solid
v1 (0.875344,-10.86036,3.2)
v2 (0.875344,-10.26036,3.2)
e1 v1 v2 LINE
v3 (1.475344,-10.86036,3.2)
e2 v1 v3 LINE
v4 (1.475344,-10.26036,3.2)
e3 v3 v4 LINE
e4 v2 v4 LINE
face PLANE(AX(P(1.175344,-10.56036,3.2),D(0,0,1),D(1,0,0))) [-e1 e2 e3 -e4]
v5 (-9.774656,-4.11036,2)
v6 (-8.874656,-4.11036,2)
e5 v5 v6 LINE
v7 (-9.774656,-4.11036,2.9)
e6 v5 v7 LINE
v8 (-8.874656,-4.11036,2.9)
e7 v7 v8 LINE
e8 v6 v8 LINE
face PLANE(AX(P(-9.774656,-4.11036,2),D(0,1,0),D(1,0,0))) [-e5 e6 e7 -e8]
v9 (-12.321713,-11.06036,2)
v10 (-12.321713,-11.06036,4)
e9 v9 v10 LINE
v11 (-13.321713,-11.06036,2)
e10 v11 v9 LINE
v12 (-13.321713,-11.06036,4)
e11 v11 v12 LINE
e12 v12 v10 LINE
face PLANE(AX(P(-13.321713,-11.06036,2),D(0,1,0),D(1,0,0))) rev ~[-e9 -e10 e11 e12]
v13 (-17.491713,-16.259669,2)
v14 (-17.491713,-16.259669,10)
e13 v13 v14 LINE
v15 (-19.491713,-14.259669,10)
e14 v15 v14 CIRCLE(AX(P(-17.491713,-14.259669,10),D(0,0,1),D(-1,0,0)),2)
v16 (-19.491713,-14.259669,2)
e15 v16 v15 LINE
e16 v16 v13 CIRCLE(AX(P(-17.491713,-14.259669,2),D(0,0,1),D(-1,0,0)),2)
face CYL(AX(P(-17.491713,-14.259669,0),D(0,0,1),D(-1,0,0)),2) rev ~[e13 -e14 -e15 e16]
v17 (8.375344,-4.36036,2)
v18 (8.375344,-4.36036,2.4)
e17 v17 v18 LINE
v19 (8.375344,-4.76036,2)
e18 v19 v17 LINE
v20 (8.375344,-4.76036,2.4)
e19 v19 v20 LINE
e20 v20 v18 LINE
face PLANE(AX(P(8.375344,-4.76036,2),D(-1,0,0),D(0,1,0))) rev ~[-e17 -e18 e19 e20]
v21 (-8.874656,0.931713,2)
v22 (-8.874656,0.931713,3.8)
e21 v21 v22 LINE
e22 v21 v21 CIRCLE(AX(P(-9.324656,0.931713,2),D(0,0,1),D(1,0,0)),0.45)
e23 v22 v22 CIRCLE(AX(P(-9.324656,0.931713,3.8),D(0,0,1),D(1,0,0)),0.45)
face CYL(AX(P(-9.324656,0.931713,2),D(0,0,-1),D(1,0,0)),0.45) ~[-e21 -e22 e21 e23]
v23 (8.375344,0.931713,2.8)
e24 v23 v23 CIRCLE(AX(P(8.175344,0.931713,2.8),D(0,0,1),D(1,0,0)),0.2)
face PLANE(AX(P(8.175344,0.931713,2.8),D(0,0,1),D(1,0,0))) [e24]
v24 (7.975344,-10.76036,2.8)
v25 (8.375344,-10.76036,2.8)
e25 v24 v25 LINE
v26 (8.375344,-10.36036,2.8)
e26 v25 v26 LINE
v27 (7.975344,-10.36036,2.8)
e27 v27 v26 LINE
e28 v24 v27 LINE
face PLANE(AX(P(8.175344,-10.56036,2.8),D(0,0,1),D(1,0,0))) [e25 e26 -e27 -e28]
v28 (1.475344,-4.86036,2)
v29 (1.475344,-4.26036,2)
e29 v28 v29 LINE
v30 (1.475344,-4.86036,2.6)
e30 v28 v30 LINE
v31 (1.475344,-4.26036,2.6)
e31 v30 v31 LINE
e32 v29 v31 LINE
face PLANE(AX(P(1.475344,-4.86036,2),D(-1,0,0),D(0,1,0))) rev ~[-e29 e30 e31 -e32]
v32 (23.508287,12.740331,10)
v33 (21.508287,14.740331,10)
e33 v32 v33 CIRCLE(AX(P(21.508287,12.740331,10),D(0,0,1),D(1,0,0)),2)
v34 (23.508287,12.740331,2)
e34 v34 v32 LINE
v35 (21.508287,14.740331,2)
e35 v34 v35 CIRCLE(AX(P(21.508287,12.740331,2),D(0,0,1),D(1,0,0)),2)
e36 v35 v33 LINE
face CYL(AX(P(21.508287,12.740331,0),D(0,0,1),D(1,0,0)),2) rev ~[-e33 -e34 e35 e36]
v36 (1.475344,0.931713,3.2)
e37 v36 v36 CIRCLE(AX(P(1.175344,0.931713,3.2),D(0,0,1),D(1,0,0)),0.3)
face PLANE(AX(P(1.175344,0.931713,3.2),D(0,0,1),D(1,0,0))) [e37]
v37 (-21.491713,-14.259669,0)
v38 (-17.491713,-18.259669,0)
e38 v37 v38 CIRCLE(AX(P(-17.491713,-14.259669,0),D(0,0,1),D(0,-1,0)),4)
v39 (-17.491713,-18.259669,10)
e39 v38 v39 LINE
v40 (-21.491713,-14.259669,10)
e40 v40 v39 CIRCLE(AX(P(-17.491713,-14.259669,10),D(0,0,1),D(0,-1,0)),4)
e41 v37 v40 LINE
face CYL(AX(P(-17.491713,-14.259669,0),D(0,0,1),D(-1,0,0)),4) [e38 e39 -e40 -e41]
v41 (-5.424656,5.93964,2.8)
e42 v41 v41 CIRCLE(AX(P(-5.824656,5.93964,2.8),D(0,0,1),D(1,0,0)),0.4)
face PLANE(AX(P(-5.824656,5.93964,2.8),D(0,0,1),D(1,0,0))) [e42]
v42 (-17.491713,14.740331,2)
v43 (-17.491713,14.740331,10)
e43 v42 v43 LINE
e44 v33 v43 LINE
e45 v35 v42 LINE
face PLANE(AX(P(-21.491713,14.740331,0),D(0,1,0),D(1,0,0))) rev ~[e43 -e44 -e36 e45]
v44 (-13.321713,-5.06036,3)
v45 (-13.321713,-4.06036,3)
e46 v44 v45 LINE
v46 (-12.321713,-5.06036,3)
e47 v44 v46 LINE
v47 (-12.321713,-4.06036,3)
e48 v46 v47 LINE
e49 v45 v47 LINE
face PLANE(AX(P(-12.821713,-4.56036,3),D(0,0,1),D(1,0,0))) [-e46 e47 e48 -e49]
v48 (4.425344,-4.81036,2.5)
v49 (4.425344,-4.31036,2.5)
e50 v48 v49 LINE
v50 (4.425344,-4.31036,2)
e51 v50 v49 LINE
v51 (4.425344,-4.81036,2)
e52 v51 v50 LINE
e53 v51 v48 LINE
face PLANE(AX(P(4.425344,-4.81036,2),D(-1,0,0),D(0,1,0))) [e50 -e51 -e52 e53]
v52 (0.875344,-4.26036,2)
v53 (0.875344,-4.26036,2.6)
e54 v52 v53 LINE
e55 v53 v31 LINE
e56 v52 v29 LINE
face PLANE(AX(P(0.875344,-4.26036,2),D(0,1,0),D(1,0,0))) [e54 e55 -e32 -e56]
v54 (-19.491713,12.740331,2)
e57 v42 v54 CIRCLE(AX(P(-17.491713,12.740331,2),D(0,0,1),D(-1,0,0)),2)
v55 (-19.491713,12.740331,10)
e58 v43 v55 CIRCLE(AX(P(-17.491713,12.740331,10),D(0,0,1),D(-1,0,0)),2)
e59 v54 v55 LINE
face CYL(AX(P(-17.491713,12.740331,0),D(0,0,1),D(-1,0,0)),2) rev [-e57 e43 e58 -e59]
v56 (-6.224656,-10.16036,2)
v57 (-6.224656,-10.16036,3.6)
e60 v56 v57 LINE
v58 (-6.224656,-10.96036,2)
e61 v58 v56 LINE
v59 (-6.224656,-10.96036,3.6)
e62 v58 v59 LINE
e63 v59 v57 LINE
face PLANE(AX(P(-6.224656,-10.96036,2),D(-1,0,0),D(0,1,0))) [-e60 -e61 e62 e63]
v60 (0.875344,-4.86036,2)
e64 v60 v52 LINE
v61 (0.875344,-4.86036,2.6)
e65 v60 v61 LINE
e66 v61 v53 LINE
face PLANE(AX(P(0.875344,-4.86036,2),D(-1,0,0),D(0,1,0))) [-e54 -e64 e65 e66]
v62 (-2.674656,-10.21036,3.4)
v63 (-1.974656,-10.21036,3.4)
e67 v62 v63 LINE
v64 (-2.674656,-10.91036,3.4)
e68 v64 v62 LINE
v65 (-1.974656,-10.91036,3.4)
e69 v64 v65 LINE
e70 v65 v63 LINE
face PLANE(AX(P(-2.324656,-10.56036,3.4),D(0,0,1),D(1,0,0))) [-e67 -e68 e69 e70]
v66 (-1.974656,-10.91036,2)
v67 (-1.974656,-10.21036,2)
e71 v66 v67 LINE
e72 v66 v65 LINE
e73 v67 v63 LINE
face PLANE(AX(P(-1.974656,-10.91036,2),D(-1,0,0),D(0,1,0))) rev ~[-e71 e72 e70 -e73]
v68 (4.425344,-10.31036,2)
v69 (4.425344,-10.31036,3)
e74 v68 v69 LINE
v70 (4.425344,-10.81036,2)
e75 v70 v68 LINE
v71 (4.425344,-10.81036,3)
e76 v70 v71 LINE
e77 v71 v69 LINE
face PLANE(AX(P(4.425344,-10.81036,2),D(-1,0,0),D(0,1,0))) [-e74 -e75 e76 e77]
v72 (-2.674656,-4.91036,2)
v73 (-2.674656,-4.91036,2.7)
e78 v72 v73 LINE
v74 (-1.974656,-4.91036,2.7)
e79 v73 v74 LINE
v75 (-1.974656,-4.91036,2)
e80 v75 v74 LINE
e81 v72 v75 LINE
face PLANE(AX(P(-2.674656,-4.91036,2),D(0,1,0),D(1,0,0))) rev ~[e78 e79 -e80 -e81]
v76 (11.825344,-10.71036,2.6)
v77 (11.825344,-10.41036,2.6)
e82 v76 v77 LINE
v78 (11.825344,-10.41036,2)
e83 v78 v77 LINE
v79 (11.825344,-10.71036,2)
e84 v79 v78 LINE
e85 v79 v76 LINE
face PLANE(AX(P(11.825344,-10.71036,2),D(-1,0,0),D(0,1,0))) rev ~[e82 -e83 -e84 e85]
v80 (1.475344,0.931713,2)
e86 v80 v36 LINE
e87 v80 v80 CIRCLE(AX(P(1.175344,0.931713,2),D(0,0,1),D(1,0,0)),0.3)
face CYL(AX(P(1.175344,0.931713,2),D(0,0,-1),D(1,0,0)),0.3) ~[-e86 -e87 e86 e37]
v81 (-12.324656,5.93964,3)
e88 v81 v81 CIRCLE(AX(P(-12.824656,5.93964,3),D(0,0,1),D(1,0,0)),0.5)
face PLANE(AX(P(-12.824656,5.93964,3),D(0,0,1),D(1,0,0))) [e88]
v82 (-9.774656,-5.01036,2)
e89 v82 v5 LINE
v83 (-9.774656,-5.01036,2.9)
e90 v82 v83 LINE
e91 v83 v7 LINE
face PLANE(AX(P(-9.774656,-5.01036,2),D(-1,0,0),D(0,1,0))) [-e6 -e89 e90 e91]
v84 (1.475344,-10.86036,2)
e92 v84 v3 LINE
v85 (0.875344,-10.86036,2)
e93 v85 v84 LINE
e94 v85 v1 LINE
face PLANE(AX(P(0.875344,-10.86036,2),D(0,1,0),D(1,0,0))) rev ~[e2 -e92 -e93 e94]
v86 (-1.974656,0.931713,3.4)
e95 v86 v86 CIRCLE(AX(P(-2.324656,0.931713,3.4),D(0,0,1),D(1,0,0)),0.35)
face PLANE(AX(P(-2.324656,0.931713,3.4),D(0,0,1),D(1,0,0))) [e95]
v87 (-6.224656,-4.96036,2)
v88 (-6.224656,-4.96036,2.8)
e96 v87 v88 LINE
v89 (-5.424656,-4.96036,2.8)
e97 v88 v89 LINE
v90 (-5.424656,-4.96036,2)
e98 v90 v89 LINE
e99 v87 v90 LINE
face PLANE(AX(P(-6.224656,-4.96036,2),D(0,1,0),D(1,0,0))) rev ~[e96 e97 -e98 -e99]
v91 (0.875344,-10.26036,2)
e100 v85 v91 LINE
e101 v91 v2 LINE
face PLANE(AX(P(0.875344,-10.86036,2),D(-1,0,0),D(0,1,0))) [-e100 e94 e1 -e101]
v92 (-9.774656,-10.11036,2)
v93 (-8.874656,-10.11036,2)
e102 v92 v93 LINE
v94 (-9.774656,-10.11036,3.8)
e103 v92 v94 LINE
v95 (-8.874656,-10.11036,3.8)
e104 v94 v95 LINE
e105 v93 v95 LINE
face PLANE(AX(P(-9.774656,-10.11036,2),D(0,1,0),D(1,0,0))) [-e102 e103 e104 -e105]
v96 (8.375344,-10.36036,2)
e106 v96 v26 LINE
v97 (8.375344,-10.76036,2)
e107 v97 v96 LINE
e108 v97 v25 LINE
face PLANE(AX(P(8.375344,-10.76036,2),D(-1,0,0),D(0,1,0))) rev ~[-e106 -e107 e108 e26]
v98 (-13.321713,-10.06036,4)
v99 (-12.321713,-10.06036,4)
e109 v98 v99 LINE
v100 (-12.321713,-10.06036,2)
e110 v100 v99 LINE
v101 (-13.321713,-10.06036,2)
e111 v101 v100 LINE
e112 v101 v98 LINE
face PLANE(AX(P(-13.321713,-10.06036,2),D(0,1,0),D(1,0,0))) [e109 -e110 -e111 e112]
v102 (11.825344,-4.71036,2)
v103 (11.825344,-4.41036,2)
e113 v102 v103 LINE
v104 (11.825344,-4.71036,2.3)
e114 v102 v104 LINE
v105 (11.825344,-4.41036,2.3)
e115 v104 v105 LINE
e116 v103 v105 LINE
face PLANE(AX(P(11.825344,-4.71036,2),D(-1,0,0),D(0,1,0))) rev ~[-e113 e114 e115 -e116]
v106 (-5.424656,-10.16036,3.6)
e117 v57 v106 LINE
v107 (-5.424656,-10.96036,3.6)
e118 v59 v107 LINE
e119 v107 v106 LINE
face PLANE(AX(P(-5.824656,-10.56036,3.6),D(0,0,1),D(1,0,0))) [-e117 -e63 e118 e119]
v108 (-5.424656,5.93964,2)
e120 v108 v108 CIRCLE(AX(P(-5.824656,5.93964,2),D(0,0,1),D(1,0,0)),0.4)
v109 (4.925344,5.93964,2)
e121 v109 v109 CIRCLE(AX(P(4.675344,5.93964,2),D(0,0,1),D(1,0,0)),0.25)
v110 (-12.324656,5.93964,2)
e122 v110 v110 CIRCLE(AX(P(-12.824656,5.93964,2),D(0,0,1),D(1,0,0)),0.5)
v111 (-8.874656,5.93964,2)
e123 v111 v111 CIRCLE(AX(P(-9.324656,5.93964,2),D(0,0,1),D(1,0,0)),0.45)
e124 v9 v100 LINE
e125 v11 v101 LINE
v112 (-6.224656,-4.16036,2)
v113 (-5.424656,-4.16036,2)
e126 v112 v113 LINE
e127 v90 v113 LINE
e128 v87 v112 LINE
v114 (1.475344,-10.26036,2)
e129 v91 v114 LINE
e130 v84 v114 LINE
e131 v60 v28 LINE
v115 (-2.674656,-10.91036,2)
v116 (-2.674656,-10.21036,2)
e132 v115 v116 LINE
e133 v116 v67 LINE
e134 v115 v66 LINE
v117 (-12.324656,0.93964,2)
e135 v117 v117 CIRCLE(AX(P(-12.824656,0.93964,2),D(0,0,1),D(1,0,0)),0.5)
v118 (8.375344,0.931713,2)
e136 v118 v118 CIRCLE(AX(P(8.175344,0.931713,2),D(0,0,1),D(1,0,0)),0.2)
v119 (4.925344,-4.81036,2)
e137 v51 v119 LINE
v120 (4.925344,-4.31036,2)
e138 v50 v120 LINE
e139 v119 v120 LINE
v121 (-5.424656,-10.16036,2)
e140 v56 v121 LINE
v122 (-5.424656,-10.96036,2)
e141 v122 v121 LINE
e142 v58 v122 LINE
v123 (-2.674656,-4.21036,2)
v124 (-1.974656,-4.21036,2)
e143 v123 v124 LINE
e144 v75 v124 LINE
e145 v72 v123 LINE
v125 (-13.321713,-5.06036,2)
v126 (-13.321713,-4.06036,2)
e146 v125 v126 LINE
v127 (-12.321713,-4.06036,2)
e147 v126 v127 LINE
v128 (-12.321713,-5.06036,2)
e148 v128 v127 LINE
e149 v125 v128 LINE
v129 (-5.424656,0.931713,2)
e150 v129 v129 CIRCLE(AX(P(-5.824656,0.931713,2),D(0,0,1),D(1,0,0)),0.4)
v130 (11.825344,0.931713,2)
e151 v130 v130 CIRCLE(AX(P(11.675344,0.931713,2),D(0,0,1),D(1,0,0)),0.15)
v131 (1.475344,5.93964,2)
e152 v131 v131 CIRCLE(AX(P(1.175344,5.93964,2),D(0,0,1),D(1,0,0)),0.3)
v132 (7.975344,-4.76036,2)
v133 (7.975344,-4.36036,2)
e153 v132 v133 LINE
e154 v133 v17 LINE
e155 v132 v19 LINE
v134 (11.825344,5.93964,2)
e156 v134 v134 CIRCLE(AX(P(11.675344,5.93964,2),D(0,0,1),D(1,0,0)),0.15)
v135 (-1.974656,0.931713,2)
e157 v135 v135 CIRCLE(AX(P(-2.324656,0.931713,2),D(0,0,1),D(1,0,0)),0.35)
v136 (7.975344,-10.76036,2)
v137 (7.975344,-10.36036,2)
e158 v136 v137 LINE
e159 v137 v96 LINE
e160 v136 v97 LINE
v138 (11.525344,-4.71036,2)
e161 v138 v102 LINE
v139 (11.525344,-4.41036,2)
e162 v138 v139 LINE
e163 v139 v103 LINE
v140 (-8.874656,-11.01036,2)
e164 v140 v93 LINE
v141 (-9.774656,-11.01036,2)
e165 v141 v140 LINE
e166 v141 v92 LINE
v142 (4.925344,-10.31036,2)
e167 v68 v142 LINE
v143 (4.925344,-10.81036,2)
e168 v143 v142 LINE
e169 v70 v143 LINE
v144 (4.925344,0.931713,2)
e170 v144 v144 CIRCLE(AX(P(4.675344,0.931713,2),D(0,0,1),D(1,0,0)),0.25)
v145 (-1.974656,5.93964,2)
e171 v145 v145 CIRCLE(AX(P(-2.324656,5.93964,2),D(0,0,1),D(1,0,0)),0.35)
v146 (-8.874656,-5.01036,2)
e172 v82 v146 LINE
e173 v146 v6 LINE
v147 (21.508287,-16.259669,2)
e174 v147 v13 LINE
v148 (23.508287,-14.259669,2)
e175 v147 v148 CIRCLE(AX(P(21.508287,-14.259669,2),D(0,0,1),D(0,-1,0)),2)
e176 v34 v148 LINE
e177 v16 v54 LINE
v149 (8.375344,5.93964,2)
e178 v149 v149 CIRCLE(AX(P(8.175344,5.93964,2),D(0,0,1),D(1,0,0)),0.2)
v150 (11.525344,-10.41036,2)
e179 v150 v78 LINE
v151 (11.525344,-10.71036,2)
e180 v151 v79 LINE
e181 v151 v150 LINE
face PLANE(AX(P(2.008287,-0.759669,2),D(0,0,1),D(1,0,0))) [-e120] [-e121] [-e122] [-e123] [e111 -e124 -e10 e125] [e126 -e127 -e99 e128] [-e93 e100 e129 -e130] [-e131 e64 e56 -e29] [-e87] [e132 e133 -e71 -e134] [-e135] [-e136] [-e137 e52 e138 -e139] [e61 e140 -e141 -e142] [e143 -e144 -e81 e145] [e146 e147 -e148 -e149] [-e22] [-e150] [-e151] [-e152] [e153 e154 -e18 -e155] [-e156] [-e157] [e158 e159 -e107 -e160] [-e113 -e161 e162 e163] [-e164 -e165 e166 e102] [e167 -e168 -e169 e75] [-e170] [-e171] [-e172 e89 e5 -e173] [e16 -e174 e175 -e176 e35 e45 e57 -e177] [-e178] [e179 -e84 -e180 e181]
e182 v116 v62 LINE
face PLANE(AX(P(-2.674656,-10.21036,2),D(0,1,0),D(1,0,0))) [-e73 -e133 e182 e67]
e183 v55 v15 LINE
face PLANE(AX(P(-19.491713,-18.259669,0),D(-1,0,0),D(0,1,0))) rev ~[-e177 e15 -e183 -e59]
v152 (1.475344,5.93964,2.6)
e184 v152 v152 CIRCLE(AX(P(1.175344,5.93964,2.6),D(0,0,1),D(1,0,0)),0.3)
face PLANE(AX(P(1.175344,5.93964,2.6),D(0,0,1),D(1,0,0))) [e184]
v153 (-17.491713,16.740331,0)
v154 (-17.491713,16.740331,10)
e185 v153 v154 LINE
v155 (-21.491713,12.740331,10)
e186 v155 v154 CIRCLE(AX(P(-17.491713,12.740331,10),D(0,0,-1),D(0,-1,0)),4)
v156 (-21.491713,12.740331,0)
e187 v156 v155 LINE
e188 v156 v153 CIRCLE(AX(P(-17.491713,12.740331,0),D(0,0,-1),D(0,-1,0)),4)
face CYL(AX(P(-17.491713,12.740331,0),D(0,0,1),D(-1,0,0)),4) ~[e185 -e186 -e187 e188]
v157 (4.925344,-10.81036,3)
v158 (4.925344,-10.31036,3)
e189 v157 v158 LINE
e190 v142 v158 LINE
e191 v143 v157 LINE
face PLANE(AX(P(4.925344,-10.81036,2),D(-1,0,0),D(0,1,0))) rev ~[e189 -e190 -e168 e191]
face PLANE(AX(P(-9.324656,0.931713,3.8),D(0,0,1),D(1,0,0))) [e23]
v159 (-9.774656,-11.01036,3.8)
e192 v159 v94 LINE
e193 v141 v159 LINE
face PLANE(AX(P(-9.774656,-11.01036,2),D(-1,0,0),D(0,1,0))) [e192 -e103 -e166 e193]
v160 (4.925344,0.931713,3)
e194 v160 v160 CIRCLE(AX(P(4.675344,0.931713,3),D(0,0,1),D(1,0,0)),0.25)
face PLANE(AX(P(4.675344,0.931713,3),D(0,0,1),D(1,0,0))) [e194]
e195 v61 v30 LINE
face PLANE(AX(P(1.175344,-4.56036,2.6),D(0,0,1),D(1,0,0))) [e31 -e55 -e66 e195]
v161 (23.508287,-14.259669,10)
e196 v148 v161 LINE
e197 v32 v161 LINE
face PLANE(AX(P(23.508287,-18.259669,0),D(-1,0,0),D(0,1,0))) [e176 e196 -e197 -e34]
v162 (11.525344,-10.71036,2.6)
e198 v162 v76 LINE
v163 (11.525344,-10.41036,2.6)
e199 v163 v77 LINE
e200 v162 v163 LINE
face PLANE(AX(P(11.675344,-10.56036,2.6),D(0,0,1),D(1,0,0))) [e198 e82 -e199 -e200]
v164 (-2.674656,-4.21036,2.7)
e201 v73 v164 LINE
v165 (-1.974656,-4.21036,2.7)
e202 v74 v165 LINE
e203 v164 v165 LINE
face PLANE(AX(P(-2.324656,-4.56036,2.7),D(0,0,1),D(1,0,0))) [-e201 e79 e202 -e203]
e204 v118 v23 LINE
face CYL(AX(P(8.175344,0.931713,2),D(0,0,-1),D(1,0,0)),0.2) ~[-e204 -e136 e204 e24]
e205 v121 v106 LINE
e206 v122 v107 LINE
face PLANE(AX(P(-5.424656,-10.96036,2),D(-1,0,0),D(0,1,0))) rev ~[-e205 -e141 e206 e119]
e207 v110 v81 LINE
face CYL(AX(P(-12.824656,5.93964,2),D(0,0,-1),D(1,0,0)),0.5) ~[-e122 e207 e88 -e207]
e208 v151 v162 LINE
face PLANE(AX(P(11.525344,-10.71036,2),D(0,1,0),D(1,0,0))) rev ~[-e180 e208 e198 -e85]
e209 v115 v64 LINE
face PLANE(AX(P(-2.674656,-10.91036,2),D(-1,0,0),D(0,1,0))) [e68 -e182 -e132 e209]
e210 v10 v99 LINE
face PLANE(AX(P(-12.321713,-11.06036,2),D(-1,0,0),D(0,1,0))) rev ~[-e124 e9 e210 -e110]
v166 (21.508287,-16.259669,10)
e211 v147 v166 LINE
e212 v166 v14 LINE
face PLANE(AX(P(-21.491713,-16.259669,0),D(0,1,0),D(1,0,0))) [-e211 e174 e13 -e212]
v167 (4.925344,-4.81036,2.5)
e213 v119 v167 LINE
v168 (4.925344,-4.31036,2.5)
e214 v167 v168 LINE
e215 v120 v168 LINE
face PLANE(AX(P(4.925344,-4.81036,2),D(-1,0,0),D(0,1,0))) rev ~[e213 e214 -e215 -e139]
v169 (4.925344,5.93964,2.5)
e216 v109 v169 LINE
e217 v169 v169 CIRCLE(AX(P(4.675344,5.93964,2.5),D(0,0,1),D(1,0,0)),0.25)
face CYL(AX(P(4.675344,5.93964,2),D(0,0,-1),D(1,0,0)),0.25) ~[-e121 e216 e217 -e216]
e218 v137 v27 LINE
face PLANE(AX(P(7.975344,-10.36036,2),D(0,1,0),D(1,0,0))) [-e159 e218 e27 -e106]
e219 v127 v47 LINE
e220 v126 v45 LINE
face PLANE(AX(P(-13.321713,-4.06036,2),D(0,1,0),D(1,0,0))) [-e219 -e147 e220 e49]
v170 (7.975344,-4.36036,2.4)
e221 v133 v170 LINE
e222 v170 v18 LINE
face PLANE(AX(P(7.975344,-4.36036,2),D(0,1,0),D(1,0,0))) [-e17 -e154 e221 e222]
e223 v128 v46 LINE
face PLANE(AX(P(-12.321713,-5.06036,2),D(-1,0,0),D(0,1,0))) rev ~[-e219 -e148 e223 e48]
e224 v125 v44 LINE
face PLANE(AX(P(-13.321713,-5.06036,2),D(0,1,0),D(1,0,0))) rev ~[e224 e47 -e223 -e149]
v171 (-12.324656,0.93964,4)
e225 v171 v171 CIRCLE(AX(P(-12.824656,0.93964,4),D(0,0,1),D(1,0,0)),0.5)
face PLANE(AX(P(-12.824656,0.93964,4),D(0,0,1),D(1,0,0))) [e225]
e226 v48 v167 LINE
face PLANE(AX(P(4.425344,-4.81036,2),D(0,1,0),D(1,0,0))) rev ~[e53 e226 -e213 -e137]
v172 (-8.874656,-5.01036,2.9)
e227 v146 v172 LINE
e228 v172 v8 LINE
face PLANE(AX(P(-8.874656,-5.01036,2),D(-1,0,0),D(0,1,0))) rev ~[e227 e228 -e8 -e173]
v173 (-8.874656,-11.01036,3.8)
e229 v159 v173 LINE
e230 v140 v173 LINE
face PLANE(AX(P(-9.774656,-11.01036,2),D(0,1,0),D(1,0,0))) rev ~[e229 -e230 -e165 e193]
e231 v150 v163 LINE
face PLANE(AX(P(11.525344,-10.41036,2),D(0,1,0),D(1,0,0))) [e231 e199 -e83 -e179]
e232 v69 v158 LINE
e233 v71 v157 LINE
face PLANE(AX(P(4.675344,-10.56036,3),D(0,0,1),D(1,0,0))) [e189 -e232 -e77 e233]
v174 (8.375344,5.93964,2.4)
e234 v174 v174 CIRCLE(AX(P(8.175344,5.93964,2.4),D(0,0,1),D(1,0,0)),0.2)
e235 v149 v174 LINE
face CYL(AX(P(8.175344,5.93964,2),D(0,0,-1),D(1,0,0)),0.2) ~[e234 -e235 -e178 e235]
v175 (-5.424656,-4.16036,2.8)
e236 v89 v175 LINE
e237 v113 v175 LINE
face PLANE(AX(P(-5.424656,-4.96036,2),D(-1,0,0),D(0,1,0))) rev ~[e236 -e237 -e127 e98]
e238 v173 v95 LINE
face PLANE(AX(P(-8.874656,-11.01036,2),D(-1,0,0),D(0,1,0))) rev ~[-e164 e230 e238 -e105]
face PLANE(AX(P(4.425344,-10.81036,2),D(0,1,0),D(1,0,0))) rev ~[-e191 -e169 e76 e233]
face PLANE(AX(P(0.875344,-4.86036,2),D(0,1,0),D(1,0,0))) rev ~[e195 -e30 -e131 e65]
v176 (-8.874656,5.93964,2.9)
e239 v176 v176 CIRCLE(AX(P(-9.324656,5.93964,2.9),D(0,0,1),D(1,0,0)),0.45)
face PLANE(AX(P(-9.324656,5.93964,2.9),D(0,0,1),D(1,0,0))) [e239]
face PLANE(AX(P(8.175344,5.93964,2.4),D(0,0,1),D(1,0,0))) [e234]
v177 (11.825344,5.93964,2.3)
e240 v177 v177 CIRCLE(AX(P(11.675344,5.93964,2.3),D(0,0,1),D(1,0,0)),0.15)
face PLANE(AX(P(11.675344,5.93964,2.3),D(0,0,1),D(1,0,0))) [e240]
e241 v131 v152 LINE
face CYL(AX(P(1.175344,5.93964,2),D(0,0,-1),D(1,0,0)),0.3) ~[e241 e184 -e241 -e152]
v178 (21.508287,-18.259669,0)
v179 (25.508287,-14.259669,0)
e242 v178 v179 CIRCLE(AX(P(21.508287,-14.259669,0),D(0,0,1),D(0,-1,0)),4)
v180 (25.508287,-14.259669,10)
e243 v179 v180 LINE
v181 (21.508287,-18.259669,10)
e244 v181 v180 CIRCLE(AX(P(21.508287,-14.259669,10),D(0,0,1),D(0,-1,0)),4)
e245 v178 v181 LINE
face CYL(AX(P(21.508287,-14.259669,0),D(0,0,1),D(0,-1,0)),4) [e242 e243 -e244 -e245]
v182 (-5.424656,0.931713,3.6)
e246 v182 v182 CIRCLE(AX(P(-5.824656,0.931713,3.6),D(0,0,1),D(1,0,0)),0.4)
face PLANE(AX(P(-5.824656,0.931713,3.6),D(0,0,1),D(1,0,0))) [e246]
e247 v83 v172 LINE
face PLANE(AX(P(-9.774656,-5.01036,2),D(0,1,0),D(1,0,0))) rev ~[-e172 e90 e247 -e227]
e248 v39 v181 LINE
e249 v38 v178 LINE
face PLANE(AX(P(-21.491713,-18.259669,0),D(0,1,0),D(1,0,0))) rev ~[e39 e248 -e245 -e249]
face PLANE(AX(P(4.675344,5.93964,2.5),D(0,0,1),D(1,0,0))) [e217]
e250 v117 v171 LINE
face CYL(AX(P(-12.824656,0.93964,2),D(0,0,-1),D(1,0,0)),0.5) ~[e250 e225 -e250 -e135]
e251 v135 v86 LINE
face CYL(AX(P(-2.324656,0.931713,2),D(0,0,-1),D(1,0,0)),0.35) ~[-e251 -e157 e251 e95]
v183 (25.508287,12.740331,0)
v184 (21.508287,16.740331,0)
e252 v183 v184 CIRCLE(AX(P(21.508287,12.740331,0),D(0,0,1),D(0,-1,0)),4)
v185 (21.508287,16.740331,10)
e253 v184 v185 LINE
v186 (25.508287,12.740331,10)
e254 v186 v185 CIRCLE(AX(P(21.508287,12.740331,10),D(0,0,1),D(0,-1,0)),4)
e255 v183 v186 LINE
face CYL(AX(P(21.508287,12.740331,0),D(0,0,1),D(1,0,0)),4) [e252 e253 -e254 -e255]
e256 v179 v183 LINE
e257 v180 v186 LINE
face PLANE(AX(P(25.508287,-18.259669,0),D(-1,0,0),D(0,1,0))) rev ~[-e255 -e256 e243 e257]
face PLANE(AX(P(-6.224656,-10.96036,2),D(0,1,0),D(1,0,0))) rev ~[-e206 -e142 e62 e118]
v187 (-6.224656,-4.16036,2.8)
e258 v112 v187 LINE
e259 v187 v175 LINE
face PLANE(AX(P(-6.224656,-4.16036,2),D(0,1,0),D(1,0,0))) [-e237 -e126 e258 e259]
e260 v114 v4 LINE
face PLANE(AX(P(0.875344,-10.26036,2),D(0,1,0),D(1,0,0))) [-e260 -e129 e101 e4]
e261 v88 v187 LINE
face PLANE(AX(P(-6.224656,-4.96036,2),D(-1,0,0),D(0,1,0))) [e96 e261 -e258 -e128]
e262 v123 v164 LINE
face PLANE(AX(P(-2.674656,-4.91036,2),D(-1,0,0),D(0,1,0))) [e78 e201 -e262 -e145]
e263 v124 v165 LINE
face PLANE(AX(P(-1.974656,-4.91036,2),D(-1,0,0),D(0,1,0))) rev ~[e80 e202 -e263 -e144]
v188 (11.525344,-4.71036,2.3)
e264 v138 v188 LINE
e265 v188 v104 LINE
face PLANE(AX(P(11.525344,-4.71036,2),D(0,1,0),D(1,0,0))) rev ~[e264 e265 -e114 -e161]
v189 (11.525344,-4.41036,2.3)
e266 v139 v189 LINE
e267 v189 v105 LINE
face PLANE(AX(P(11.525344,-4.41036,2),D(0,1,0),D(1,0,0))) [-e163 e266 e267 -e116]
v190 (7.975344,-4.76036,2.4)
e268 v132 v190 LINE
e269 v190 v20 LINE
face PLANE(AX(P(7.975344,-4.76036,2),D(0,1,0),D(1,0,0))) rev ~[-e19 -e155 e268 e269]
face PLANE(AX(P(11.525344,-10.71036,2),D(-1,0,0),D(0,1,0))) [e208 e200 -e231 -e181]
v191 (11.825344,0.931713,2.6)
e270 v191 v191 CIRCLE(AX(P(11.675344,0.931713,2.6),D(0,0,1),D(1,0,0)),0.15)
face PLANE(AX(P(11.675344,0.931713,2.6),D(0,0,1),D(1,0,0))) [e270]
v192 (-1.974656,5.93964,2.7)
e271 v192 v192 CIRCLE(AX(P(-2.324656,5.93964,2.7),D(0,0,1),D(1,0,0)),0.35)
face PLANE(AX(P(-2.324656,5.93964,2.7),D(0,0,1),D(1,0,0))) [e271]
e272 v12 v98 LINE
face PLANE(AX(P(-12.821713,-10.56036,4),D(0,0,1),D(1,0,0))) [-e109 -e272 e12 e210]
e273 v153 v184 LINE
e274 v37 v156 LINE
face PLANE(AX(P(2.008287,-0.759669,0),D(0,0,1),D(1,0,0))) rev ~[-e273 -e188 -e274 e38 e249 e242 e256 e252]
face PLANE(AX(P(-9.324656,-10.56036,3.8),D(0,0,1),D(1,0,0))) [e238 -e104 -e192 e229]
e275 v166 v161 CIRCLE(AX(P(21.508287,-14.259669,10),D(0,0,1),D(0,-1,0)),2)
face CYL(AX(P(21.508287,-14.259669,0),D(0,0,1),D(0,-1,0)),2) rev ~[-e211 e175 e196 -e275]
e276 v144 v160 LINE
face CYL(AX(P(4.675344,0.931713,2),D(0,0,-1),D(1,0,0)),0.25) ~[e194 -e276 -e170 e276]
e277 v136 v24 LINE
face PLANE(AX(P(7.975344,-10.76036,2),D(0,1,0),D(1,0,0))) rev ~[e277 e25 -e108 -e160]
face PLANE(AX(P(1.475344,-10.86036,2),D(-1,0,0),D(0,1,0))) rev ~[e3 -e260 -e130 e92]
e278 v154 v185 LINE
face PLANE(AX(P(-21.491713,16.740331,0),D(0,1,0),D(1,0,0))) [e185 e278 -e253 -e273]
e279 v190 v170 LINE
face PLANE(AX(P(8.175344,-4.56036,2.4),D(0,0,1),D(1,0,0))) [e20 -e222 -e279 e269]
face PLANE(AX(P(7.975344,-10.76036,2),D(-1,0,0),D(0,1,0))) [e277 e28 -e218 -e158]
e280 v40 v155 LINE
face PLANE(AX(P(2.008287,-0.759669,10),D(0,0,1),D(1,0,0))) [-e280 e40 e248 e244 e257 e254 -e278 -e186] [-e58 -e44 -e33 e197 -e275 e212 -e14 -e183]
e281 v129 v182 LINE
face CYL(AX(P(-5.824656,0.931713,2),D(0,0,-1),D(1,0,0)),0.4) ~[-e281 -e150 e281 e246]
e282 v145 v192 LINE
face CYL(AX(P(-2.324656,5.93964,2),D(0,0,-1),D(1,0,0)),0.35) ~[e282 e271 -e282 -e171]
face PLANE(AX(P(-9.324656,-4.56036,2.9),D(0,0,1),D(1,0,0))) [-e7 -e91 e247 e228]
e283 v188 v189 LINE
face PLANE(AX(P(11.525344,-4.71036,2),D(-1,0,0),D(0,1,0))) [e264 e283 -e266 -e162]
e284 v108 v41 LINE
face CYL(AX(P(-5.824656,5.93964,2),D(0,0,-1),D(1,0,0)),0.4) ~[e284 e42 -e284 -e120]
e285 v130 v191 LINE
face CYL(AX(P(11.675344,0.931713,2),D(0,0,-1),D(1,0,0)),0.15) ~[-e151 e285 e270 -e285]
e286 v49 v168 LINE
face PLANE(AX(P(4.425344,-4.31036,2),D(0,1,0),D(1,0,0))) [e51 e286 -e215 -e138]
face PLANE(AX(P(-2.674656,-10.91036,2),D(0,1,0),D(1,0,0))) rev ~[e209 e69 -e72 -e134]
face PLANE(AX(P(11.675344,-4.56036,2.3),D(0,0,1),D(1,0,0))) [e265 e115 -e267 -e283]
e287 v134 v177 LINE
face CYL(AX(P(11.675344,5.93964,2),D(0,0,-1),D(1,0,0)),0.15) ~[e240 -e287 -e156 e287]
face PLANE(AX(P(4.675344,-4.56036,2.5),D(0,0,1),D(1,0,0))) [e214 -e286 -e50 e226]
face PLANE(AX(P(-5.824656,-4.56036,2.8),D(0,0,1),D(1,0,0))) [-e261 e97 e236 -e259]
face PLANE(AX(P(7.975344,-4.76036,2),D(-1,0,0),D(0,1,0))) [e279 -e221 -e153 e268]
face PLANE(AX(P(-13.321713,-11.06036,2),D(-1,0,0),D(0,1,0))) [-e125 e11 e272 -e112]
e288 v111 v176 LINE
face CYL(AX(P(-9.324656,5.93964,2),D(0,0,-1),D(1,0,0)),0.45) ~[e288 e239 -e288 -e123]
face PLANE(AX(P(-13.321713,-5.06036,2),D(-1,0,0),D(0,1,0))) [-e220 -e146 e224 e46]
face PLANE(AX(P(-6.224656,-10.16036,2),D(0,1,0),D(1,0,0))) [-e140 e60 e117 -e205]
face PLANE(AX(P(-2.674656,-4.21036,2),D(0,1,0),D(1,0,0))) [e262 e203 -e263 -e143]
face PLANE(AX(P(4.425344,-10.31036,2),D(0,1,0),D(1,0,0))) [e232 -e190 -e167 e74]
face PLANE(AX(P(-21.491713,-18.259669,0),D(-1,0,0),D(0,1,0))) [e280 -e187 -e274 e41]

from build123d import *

# Parameters (mm, degrees)
SKETCH1_W            = 47
SKETCH1_H            = 35
BOSS_EXTRUDE1_DEPTH  = 10
FILLET1_R            = 4
SHELL1_T             = -2
SKETCH2_R            = 0.5
BOSS_EXTRUDE6_DEPTH  = 1
SKETCH3_R            = 0.45
BOSS_EXTRUDE7_DEPTH  = 0.9
SKETCH4_R            = 0.4
BOSS_EXTRUDE8_DEPTH  = 0.8
SKETCH5_R            = 0.35
BOSS_EXTRUDE9_DEPTH  = 0.7
SKETCH6_R            = 0.3
BOSS_EXTRUDE10_DEPTH = 0.6
SKETCH7_R            = 0.25
BOSS_EXTRUDE11_DEPTH = 0.5
SKETCH8_R            = 0.2
BOSS_EXTRUDE12_DEPTH = 0.4
SKETCH9_R            = 0.15
BOSS_EXTRUDE13_DEPTH = 0.3
SKETCH10_R           = 0.5
BOSS_EXTRUDE14_DEPTH = 2
SKETCH11_R           = 0.45
BOSS_EXTRUDE15_DEPTH = 1.8
SKETCH12_R           = 0.4
BOSS_EXTRUDE16_DEPTH = 1.6
SKETCH13_R           = 0.35
BOSS_EXTRUDE17_DEPTH = 1.4
SKETCH14_R           = 0.3
BOSS_EXTRUDE18_DEPTH = 1.2
SKETCH15_R           = 0.25
BOSS_EXTRUDE19_DEPTH = 1
SKETCH16_R           = 0.2
BOSS_EXTRUDE20_DEPTH = 0.8
SKETCH17_R           = 0.15
BOSS_EXTRUDE21_DEPTH = 0.6
SKETCH18_W           = 1
SKETCH18_H           = 1
BOSS_EXTRUDE22_DEPTH = 1
SKETCH20_W           = 0.9
SKETCH20_H           = 0.9
BOSS_EXTRUDE23_DEPTH = 0.9
SKETCH21_W           = 0.8
SKETCH21_H           = 0.8
BOSS_EXTRUDE24_DEPTH = 0.8
SKETCH22_W           = 0.7
SKETCH22_H           = 0.7
BOSS_EXTRUDE25_DEPTH = 0.7
SKETCH23_W           = 0.6
SKETCH23_H           = 0.6
BOSS_EXTRUDE26_DEPTH = 0.6
SKETCH24_W           = 0.5
SKETCH24_H           = 0.5
BOSS_EXTRUDE27_DEPTH = 0.5
SKETCH25_W           = 0.4
SKETCH25_H           = 0.4
BOSS_EXTRUDE28_DEPTH = 0.4
SKETCH26_W           = 0.3
SKETCH26_H           = 0.3
BOSS_EXTRUDE29_DEPTH = 0.3
SKETCH27_W           = 1
SKETCH27_H           = 1
BOSS_EXTRUDE30_DEPTH = 2
SKETCH28_W           = 0.9
SKETCH28_H           = 0.9
BOSS_EXTRUDE31_DEPTH = 1.8
SKETCH29_W           = 0.8
SKETCH29_H           = 0.8
BOSS_EXTRUDE32_DEPTH = 1.6
SKETCH30_W           = 0.7
SKETCH30_H           = 0.7
BOSS_EXTRUDE33_DEPTH = 1.4
SKETCH31_W           = 0.6
SKETCH31_H           = 0.6
BOSS_EXTRUDE34_DEPTH = 1.2
SKETCH32_W           = 0.5
SKETCH32_H           = 0.5
BOSS_EXTRUDE35_DEPTH = 1
SKETCH33_W           = 0.4
SKETCH33_H           = 0.4
BOSS_EXTRUDE36_DEPTH = 0.8
SKETCH34_W           = 0.3
SKETCH34_H           = 0.3
BOSS_EXTRUDE37_DEPTH = 0.6


with BuildPart() as part:
    # Sketch1 → Boss-Extrude1 (new body)
    with BuildSketch(Plane.XY):
        with Locations((2.008287293, -0.759668508)):
            Rectangle(SKETCH1_W, SKETCH1_H)
    extrude(amount=BOSS_EXTRUDE1_DEPTH)

    # Fillet1
    fillet1_edges = [part.edges().sort_by_distance(p)[0] for p in [
        (-21.491712707, 16.740331492, 5),
        (25.508287293, 16.740331492, 5),
        (25.508287293, -18.259668508, 5),
        (-21.491712707, -18.259668508, 5),
    ]]
    fillet(fillet1_edges, radius=FILLET1_R)

    # Shell1
    shell1_openings = [part.faces().sort_by_distance(p)[0] for p in [
        (2.008287293, -0.759668508, 10),
    ]]
    offset(amount=SHELL1_T, openings=shell1_openings, kind=Kind.INTERSECTION)

    # Sketch2 → Boss-Extrude6 (add)
    with BuildSketch(Plane.XY.offset(2)):
        with Locations((-12.824656071, 5.939639856)):
            Circle(SKETCH2_R)
    extrude(amount=BOSS_EXTRUDE6_DEPTH)

    # Sketch3 → Boss-Extrude7 (add)
    with BuildSketch(Plane.XY.offset(2)):
        with Locations((-9.324656071, 5.939639856)):
            Circle(SKETCH3_R)
    extrude(amount=BOSS_EXTRUDE7_DEPTH)

    # Sketch4 → Boss-Extrude8 (add)
    with BuildSketch(Plane.XY.offset(2)):
        with Locations((-5.824656071, 5.939639856)):
            Circle(SKETCH4_R)
    extrude(amount=BOSS_EXTRUDE8_DEPTH)

    # Sketch5 → Boss-Extrude9 (add)
    with BuildSketch(Plane.XY.offset(2)):
        with Locations((-2.324656071, 5.939639856)):
            Circle(SKETCH5_R)
    extrude(amount=BOSS_EXTRUDE9_DEPTH)

    # Sketch6 → Boss-Extrude10 (add)
    with BuildSketch(Plane.XY.offset(2)):
        with Locations((1.175343929, 5.939639856)):
            Circle(SKETCH6_R)
    extrude(amount=BOSS_EXTRUDE10_DEPTH)

    # Sketch7 → Boss-Extrude11 (add)
    with BuildSketch(Plane.XY.offset(2)):
        with Locations((4.675343929, 5.939639856)):
            Circle(SKETCH7_R)
    extrude(amount=BOSS_EXTRUDE11_DEPTH)

    # Sketch8 → Boss-Extrude12 (add)
    with BuildSketch(Plane.XY.offset(2)):
        with Locations((8.175343929, 5.939639856)):
            Circle(SKETCH8_R)
    extrude(amount=BOSS_EXTRUDE12_DEPTH)

    # Sketch9 → Boss-Extrude13 (add)
    with BuildSketch(Plane.XY.offset(2)):
        with Locations((11.675343929, 5.939639856)):
            Circle(SKETCH9_R)
    extrude(amount=BOSS_EXTRUDE13_DEPTH)

    # Sketch10 → Boss-Extrude14 (add)
    with BuildSketch(Plane.XY.offset(2)):
        with Locations((-12.824656071, 0.939639856)):
            Circle(SKETCH10_R)
    extrude(amount=BOSS_EXTRUDE14_DEPTH)

    # Sketch11 → Boss-Extrude15 (add)
    with BuildSketch(Plane.XY.offset(2)):
        with Locations((-9.324656071, 0.931713012)):
            Circle(SKETCH11_R)
    extrude(amount=BOSS_EXTRUDE15_DEPTH)

    # Sketch12 → Boss-Extrude16 (add)
    with BuildSketch(Plane.XY.offset(2)):
        with Locations((-5.824656071, 0.931713012)):
            Circle(SKETCH12_R)
    extrude(amount=BOSS_EXTRUDE16_DEPTH)

    # Sketch13 → Boss-Extrude17 (add)
    with BuildSketch(Plane.XY.offset(2)):
        with Locations((-2.324656071, 0.931713012)):
            Circle(SKETCH13_R)
    extrude(amount=BOSS_EXTRUDE17_DEPTH)

    # Sketch14 → Boss-Extrude18 (add)
    with BuildSketch(Plane.XY.offset(2)):
        with Locations((1.175343929, 0.931713012)):
            Circle(SKETCH14_R)
    extrude(amount=BOSS_EXTRUDE18_DEPTH)

    # Sketch15 → Boss-Extrude19 (add)
    with BuildSketch(Plane.XY.offset(2)):
        with Locations((4.675343929, 0.931713012)):
            Circle(SKETCH15_R)
    extrude(amount=BOSS_EXTRUDE19_DEPTH)

    # Sketch16 → Boss-Extrude20 (add)
    with BuildSketch(Plane.XY.offset(2)):
        with Locations((8.175343929, 0.931713012)):
            Circle(SKETCH16_R)
    extrude(amount=BOSS_EXTRUDE20_DEPTH)

    # Sketch17 → Boss-Extrude21 (add)
    with BuildSketch(Plane.XY.offset(2)):
        with Locations((11.675343929, 0.931713012)):
            Circle(SKETCH17_R)
    extrude(amount=BOSS_EXTRUDE21_DEPTH)

    # Sketch18 → Boss-Extrude22 (add)
    with BuildSketch(Plane.XY.offset(2)):
        with Locations((-12.821712707, -4.560360144)):
            Rectangle(SKETCH18_W, SKETCH18_H)
    extrude(amount=BOSS_EXTRUDE22_DEPTH)

    # Sketch20 → Boss-Extrude23 (add)
    with BuildSketch(Plane.XY.offset(2)):
        with Locations((-9.324656071, -4.560360144)):
            Rectangle(SKETCH20_W, SKETCH20_H)
    extrude(amount=BOSS_EXTRUDE23_DEPTH)

    # Sketch21 → Boss-Extrude24 (add)
    with BuildSketch(Plane.XY.offset(2)):
        with Locations((-5.824656071, -4.560360144)):
            Rectangle(SKETCH21_W, SKETCH21_H)
    extrude(amount=BOSS_EXTRUDE24_DEPTH)

    # Sketch22 → Boss-Extrude25 (add)
    with BuildSketch(Plane.XY.offset(2)):
        with Locations((-2.324656071, -4.560360144)):
            Rectangle(SKETCH22_W, SKETCH22_H)
    extrude(amount=BOSS_EXTRUDE25_DEPTH)

    # Sketch23 → Boss-Extrude26 (add)
    with BuildSketch(Plane.XY.offset(2)):
        with Locations((1.175343929, -4.560360144)):
            Rectangle(SKETCH23_W, SKETCH23_H)
    extrude(amount=BOSS_EXTRUDE26_DEPTH)

    # Sketch24 → Boss-Extrude27 (add)
    with BuildSketch(Plane.XY.offset(2)):
        with Locations((4.675343929, -4.560360144)):
            Rectangle(SKETCH24_W, SKETCH24_H)
    extrude(amount=BOSS_EXTRUDE27_DEPTH)

    # Sketch25 → Boss-Extrude28 (add)
    with BuildSketch(Plane.XY.offset(2)):
        with Locations((8.175343929, -4.560360144)):
            Rectangle(SKETCH25_W, SKETCH25_H)
    extrude(amount=BOSS_EXTRUDE28_DEPTH)

    # Sketch26 → Boss-Extrude29 (add)
    with BuildSketch(Plane.XY.offset(2)):
        with Locations((11.675343929, -4.560360144)):
            Rectangle(SKETCH26_W, SKETCH26_H)
    extrude(amount=BOSS_EXTRUDE29_DEPTH)

    # Sketch27 → Boss-Extrude30 (add)
    with BuildSketch(Plane.XY.offset(2)):
        with Locations((-12.821712707, -10.560360144)):
            Rectangle(SKETCH27_W, SKETCH27_H)
    extrude(amount=BOSS_EXTRUDE30_DEPTH)

    # Sketch28 → Boss-Extrude31 (add)
    with BuildSketch(Plane.XY.offset(2)):
        with Locations((-9.324656071, -10.560360144)):
            Rectangle(SKETCH28_W, SKETCH28_H)
    extrude(amount=BOSS_EXTRUDE31_DEPTH)

    # Sketch29 → Boss-Extrude32 (add)
    with BuildSketch(Plane.XY.offset(2)):
        with Locations((-5.824656071, -10.560360144)):
            Rectangle(SKETCH29_W, SKETCH29_H)
    extrude(amount=BOSS_EXTRUDE32_DEPTH)

    # Sketch30 → Boss-Extrude33 (add)
    with BuildSketch(Plane.XY.offset(2)):
        with Locations((-2.324656071, -10.560360144)):
            Rectangle(SKETCH30_W, SKETCH30_H)
    extrude(amount=BOSS_EXTRUDE33_DEPTH)

    # Sketch31 → Boss-Extrude34 (add)
    with BuildSketch(Plane.XY.offset(2)):
        with Locations((1.175343929, -10.560360144)):
            Rectangle(SKETCH31_W, SKETCH31_H)
    extrude(amount=BOSS_EXTRUDE34_DEPTH)

    # Sketch32 → Boss-Extrude35 (add)
    with BuildSketch(Plane.XY.offset(2)):
        with Locations((4.675343929, -10.560360144)):
            Rectangle(SKETCH32_W, SKETCH32_H)
    extrude(amount=BOSS_EXTRUDE35_DEPTH)

    # Sketch33 → Boss-Extrude36 (add)
    with BuildSketch(Plane.XY.offset(2)):
        with Locations((8.175343929, -10.560360144)):
            Rectangle(SKETCH33_W, SKETCH33_H)
    extrude(amount=BOSS_EXTRUDE36_DEPTH)

    # Sketch34 → Boss-Extrude37 (add)
    with BuildSketch(Plane.XY.offset(2)):
        with Locations((11.675343929, -10.560360144)):
            Rectangle(SKETCH34_W, SKETCH34_H)
    extrude(amount=BOSS_EXTRUDE37_DEPTH)


solid = part.part
